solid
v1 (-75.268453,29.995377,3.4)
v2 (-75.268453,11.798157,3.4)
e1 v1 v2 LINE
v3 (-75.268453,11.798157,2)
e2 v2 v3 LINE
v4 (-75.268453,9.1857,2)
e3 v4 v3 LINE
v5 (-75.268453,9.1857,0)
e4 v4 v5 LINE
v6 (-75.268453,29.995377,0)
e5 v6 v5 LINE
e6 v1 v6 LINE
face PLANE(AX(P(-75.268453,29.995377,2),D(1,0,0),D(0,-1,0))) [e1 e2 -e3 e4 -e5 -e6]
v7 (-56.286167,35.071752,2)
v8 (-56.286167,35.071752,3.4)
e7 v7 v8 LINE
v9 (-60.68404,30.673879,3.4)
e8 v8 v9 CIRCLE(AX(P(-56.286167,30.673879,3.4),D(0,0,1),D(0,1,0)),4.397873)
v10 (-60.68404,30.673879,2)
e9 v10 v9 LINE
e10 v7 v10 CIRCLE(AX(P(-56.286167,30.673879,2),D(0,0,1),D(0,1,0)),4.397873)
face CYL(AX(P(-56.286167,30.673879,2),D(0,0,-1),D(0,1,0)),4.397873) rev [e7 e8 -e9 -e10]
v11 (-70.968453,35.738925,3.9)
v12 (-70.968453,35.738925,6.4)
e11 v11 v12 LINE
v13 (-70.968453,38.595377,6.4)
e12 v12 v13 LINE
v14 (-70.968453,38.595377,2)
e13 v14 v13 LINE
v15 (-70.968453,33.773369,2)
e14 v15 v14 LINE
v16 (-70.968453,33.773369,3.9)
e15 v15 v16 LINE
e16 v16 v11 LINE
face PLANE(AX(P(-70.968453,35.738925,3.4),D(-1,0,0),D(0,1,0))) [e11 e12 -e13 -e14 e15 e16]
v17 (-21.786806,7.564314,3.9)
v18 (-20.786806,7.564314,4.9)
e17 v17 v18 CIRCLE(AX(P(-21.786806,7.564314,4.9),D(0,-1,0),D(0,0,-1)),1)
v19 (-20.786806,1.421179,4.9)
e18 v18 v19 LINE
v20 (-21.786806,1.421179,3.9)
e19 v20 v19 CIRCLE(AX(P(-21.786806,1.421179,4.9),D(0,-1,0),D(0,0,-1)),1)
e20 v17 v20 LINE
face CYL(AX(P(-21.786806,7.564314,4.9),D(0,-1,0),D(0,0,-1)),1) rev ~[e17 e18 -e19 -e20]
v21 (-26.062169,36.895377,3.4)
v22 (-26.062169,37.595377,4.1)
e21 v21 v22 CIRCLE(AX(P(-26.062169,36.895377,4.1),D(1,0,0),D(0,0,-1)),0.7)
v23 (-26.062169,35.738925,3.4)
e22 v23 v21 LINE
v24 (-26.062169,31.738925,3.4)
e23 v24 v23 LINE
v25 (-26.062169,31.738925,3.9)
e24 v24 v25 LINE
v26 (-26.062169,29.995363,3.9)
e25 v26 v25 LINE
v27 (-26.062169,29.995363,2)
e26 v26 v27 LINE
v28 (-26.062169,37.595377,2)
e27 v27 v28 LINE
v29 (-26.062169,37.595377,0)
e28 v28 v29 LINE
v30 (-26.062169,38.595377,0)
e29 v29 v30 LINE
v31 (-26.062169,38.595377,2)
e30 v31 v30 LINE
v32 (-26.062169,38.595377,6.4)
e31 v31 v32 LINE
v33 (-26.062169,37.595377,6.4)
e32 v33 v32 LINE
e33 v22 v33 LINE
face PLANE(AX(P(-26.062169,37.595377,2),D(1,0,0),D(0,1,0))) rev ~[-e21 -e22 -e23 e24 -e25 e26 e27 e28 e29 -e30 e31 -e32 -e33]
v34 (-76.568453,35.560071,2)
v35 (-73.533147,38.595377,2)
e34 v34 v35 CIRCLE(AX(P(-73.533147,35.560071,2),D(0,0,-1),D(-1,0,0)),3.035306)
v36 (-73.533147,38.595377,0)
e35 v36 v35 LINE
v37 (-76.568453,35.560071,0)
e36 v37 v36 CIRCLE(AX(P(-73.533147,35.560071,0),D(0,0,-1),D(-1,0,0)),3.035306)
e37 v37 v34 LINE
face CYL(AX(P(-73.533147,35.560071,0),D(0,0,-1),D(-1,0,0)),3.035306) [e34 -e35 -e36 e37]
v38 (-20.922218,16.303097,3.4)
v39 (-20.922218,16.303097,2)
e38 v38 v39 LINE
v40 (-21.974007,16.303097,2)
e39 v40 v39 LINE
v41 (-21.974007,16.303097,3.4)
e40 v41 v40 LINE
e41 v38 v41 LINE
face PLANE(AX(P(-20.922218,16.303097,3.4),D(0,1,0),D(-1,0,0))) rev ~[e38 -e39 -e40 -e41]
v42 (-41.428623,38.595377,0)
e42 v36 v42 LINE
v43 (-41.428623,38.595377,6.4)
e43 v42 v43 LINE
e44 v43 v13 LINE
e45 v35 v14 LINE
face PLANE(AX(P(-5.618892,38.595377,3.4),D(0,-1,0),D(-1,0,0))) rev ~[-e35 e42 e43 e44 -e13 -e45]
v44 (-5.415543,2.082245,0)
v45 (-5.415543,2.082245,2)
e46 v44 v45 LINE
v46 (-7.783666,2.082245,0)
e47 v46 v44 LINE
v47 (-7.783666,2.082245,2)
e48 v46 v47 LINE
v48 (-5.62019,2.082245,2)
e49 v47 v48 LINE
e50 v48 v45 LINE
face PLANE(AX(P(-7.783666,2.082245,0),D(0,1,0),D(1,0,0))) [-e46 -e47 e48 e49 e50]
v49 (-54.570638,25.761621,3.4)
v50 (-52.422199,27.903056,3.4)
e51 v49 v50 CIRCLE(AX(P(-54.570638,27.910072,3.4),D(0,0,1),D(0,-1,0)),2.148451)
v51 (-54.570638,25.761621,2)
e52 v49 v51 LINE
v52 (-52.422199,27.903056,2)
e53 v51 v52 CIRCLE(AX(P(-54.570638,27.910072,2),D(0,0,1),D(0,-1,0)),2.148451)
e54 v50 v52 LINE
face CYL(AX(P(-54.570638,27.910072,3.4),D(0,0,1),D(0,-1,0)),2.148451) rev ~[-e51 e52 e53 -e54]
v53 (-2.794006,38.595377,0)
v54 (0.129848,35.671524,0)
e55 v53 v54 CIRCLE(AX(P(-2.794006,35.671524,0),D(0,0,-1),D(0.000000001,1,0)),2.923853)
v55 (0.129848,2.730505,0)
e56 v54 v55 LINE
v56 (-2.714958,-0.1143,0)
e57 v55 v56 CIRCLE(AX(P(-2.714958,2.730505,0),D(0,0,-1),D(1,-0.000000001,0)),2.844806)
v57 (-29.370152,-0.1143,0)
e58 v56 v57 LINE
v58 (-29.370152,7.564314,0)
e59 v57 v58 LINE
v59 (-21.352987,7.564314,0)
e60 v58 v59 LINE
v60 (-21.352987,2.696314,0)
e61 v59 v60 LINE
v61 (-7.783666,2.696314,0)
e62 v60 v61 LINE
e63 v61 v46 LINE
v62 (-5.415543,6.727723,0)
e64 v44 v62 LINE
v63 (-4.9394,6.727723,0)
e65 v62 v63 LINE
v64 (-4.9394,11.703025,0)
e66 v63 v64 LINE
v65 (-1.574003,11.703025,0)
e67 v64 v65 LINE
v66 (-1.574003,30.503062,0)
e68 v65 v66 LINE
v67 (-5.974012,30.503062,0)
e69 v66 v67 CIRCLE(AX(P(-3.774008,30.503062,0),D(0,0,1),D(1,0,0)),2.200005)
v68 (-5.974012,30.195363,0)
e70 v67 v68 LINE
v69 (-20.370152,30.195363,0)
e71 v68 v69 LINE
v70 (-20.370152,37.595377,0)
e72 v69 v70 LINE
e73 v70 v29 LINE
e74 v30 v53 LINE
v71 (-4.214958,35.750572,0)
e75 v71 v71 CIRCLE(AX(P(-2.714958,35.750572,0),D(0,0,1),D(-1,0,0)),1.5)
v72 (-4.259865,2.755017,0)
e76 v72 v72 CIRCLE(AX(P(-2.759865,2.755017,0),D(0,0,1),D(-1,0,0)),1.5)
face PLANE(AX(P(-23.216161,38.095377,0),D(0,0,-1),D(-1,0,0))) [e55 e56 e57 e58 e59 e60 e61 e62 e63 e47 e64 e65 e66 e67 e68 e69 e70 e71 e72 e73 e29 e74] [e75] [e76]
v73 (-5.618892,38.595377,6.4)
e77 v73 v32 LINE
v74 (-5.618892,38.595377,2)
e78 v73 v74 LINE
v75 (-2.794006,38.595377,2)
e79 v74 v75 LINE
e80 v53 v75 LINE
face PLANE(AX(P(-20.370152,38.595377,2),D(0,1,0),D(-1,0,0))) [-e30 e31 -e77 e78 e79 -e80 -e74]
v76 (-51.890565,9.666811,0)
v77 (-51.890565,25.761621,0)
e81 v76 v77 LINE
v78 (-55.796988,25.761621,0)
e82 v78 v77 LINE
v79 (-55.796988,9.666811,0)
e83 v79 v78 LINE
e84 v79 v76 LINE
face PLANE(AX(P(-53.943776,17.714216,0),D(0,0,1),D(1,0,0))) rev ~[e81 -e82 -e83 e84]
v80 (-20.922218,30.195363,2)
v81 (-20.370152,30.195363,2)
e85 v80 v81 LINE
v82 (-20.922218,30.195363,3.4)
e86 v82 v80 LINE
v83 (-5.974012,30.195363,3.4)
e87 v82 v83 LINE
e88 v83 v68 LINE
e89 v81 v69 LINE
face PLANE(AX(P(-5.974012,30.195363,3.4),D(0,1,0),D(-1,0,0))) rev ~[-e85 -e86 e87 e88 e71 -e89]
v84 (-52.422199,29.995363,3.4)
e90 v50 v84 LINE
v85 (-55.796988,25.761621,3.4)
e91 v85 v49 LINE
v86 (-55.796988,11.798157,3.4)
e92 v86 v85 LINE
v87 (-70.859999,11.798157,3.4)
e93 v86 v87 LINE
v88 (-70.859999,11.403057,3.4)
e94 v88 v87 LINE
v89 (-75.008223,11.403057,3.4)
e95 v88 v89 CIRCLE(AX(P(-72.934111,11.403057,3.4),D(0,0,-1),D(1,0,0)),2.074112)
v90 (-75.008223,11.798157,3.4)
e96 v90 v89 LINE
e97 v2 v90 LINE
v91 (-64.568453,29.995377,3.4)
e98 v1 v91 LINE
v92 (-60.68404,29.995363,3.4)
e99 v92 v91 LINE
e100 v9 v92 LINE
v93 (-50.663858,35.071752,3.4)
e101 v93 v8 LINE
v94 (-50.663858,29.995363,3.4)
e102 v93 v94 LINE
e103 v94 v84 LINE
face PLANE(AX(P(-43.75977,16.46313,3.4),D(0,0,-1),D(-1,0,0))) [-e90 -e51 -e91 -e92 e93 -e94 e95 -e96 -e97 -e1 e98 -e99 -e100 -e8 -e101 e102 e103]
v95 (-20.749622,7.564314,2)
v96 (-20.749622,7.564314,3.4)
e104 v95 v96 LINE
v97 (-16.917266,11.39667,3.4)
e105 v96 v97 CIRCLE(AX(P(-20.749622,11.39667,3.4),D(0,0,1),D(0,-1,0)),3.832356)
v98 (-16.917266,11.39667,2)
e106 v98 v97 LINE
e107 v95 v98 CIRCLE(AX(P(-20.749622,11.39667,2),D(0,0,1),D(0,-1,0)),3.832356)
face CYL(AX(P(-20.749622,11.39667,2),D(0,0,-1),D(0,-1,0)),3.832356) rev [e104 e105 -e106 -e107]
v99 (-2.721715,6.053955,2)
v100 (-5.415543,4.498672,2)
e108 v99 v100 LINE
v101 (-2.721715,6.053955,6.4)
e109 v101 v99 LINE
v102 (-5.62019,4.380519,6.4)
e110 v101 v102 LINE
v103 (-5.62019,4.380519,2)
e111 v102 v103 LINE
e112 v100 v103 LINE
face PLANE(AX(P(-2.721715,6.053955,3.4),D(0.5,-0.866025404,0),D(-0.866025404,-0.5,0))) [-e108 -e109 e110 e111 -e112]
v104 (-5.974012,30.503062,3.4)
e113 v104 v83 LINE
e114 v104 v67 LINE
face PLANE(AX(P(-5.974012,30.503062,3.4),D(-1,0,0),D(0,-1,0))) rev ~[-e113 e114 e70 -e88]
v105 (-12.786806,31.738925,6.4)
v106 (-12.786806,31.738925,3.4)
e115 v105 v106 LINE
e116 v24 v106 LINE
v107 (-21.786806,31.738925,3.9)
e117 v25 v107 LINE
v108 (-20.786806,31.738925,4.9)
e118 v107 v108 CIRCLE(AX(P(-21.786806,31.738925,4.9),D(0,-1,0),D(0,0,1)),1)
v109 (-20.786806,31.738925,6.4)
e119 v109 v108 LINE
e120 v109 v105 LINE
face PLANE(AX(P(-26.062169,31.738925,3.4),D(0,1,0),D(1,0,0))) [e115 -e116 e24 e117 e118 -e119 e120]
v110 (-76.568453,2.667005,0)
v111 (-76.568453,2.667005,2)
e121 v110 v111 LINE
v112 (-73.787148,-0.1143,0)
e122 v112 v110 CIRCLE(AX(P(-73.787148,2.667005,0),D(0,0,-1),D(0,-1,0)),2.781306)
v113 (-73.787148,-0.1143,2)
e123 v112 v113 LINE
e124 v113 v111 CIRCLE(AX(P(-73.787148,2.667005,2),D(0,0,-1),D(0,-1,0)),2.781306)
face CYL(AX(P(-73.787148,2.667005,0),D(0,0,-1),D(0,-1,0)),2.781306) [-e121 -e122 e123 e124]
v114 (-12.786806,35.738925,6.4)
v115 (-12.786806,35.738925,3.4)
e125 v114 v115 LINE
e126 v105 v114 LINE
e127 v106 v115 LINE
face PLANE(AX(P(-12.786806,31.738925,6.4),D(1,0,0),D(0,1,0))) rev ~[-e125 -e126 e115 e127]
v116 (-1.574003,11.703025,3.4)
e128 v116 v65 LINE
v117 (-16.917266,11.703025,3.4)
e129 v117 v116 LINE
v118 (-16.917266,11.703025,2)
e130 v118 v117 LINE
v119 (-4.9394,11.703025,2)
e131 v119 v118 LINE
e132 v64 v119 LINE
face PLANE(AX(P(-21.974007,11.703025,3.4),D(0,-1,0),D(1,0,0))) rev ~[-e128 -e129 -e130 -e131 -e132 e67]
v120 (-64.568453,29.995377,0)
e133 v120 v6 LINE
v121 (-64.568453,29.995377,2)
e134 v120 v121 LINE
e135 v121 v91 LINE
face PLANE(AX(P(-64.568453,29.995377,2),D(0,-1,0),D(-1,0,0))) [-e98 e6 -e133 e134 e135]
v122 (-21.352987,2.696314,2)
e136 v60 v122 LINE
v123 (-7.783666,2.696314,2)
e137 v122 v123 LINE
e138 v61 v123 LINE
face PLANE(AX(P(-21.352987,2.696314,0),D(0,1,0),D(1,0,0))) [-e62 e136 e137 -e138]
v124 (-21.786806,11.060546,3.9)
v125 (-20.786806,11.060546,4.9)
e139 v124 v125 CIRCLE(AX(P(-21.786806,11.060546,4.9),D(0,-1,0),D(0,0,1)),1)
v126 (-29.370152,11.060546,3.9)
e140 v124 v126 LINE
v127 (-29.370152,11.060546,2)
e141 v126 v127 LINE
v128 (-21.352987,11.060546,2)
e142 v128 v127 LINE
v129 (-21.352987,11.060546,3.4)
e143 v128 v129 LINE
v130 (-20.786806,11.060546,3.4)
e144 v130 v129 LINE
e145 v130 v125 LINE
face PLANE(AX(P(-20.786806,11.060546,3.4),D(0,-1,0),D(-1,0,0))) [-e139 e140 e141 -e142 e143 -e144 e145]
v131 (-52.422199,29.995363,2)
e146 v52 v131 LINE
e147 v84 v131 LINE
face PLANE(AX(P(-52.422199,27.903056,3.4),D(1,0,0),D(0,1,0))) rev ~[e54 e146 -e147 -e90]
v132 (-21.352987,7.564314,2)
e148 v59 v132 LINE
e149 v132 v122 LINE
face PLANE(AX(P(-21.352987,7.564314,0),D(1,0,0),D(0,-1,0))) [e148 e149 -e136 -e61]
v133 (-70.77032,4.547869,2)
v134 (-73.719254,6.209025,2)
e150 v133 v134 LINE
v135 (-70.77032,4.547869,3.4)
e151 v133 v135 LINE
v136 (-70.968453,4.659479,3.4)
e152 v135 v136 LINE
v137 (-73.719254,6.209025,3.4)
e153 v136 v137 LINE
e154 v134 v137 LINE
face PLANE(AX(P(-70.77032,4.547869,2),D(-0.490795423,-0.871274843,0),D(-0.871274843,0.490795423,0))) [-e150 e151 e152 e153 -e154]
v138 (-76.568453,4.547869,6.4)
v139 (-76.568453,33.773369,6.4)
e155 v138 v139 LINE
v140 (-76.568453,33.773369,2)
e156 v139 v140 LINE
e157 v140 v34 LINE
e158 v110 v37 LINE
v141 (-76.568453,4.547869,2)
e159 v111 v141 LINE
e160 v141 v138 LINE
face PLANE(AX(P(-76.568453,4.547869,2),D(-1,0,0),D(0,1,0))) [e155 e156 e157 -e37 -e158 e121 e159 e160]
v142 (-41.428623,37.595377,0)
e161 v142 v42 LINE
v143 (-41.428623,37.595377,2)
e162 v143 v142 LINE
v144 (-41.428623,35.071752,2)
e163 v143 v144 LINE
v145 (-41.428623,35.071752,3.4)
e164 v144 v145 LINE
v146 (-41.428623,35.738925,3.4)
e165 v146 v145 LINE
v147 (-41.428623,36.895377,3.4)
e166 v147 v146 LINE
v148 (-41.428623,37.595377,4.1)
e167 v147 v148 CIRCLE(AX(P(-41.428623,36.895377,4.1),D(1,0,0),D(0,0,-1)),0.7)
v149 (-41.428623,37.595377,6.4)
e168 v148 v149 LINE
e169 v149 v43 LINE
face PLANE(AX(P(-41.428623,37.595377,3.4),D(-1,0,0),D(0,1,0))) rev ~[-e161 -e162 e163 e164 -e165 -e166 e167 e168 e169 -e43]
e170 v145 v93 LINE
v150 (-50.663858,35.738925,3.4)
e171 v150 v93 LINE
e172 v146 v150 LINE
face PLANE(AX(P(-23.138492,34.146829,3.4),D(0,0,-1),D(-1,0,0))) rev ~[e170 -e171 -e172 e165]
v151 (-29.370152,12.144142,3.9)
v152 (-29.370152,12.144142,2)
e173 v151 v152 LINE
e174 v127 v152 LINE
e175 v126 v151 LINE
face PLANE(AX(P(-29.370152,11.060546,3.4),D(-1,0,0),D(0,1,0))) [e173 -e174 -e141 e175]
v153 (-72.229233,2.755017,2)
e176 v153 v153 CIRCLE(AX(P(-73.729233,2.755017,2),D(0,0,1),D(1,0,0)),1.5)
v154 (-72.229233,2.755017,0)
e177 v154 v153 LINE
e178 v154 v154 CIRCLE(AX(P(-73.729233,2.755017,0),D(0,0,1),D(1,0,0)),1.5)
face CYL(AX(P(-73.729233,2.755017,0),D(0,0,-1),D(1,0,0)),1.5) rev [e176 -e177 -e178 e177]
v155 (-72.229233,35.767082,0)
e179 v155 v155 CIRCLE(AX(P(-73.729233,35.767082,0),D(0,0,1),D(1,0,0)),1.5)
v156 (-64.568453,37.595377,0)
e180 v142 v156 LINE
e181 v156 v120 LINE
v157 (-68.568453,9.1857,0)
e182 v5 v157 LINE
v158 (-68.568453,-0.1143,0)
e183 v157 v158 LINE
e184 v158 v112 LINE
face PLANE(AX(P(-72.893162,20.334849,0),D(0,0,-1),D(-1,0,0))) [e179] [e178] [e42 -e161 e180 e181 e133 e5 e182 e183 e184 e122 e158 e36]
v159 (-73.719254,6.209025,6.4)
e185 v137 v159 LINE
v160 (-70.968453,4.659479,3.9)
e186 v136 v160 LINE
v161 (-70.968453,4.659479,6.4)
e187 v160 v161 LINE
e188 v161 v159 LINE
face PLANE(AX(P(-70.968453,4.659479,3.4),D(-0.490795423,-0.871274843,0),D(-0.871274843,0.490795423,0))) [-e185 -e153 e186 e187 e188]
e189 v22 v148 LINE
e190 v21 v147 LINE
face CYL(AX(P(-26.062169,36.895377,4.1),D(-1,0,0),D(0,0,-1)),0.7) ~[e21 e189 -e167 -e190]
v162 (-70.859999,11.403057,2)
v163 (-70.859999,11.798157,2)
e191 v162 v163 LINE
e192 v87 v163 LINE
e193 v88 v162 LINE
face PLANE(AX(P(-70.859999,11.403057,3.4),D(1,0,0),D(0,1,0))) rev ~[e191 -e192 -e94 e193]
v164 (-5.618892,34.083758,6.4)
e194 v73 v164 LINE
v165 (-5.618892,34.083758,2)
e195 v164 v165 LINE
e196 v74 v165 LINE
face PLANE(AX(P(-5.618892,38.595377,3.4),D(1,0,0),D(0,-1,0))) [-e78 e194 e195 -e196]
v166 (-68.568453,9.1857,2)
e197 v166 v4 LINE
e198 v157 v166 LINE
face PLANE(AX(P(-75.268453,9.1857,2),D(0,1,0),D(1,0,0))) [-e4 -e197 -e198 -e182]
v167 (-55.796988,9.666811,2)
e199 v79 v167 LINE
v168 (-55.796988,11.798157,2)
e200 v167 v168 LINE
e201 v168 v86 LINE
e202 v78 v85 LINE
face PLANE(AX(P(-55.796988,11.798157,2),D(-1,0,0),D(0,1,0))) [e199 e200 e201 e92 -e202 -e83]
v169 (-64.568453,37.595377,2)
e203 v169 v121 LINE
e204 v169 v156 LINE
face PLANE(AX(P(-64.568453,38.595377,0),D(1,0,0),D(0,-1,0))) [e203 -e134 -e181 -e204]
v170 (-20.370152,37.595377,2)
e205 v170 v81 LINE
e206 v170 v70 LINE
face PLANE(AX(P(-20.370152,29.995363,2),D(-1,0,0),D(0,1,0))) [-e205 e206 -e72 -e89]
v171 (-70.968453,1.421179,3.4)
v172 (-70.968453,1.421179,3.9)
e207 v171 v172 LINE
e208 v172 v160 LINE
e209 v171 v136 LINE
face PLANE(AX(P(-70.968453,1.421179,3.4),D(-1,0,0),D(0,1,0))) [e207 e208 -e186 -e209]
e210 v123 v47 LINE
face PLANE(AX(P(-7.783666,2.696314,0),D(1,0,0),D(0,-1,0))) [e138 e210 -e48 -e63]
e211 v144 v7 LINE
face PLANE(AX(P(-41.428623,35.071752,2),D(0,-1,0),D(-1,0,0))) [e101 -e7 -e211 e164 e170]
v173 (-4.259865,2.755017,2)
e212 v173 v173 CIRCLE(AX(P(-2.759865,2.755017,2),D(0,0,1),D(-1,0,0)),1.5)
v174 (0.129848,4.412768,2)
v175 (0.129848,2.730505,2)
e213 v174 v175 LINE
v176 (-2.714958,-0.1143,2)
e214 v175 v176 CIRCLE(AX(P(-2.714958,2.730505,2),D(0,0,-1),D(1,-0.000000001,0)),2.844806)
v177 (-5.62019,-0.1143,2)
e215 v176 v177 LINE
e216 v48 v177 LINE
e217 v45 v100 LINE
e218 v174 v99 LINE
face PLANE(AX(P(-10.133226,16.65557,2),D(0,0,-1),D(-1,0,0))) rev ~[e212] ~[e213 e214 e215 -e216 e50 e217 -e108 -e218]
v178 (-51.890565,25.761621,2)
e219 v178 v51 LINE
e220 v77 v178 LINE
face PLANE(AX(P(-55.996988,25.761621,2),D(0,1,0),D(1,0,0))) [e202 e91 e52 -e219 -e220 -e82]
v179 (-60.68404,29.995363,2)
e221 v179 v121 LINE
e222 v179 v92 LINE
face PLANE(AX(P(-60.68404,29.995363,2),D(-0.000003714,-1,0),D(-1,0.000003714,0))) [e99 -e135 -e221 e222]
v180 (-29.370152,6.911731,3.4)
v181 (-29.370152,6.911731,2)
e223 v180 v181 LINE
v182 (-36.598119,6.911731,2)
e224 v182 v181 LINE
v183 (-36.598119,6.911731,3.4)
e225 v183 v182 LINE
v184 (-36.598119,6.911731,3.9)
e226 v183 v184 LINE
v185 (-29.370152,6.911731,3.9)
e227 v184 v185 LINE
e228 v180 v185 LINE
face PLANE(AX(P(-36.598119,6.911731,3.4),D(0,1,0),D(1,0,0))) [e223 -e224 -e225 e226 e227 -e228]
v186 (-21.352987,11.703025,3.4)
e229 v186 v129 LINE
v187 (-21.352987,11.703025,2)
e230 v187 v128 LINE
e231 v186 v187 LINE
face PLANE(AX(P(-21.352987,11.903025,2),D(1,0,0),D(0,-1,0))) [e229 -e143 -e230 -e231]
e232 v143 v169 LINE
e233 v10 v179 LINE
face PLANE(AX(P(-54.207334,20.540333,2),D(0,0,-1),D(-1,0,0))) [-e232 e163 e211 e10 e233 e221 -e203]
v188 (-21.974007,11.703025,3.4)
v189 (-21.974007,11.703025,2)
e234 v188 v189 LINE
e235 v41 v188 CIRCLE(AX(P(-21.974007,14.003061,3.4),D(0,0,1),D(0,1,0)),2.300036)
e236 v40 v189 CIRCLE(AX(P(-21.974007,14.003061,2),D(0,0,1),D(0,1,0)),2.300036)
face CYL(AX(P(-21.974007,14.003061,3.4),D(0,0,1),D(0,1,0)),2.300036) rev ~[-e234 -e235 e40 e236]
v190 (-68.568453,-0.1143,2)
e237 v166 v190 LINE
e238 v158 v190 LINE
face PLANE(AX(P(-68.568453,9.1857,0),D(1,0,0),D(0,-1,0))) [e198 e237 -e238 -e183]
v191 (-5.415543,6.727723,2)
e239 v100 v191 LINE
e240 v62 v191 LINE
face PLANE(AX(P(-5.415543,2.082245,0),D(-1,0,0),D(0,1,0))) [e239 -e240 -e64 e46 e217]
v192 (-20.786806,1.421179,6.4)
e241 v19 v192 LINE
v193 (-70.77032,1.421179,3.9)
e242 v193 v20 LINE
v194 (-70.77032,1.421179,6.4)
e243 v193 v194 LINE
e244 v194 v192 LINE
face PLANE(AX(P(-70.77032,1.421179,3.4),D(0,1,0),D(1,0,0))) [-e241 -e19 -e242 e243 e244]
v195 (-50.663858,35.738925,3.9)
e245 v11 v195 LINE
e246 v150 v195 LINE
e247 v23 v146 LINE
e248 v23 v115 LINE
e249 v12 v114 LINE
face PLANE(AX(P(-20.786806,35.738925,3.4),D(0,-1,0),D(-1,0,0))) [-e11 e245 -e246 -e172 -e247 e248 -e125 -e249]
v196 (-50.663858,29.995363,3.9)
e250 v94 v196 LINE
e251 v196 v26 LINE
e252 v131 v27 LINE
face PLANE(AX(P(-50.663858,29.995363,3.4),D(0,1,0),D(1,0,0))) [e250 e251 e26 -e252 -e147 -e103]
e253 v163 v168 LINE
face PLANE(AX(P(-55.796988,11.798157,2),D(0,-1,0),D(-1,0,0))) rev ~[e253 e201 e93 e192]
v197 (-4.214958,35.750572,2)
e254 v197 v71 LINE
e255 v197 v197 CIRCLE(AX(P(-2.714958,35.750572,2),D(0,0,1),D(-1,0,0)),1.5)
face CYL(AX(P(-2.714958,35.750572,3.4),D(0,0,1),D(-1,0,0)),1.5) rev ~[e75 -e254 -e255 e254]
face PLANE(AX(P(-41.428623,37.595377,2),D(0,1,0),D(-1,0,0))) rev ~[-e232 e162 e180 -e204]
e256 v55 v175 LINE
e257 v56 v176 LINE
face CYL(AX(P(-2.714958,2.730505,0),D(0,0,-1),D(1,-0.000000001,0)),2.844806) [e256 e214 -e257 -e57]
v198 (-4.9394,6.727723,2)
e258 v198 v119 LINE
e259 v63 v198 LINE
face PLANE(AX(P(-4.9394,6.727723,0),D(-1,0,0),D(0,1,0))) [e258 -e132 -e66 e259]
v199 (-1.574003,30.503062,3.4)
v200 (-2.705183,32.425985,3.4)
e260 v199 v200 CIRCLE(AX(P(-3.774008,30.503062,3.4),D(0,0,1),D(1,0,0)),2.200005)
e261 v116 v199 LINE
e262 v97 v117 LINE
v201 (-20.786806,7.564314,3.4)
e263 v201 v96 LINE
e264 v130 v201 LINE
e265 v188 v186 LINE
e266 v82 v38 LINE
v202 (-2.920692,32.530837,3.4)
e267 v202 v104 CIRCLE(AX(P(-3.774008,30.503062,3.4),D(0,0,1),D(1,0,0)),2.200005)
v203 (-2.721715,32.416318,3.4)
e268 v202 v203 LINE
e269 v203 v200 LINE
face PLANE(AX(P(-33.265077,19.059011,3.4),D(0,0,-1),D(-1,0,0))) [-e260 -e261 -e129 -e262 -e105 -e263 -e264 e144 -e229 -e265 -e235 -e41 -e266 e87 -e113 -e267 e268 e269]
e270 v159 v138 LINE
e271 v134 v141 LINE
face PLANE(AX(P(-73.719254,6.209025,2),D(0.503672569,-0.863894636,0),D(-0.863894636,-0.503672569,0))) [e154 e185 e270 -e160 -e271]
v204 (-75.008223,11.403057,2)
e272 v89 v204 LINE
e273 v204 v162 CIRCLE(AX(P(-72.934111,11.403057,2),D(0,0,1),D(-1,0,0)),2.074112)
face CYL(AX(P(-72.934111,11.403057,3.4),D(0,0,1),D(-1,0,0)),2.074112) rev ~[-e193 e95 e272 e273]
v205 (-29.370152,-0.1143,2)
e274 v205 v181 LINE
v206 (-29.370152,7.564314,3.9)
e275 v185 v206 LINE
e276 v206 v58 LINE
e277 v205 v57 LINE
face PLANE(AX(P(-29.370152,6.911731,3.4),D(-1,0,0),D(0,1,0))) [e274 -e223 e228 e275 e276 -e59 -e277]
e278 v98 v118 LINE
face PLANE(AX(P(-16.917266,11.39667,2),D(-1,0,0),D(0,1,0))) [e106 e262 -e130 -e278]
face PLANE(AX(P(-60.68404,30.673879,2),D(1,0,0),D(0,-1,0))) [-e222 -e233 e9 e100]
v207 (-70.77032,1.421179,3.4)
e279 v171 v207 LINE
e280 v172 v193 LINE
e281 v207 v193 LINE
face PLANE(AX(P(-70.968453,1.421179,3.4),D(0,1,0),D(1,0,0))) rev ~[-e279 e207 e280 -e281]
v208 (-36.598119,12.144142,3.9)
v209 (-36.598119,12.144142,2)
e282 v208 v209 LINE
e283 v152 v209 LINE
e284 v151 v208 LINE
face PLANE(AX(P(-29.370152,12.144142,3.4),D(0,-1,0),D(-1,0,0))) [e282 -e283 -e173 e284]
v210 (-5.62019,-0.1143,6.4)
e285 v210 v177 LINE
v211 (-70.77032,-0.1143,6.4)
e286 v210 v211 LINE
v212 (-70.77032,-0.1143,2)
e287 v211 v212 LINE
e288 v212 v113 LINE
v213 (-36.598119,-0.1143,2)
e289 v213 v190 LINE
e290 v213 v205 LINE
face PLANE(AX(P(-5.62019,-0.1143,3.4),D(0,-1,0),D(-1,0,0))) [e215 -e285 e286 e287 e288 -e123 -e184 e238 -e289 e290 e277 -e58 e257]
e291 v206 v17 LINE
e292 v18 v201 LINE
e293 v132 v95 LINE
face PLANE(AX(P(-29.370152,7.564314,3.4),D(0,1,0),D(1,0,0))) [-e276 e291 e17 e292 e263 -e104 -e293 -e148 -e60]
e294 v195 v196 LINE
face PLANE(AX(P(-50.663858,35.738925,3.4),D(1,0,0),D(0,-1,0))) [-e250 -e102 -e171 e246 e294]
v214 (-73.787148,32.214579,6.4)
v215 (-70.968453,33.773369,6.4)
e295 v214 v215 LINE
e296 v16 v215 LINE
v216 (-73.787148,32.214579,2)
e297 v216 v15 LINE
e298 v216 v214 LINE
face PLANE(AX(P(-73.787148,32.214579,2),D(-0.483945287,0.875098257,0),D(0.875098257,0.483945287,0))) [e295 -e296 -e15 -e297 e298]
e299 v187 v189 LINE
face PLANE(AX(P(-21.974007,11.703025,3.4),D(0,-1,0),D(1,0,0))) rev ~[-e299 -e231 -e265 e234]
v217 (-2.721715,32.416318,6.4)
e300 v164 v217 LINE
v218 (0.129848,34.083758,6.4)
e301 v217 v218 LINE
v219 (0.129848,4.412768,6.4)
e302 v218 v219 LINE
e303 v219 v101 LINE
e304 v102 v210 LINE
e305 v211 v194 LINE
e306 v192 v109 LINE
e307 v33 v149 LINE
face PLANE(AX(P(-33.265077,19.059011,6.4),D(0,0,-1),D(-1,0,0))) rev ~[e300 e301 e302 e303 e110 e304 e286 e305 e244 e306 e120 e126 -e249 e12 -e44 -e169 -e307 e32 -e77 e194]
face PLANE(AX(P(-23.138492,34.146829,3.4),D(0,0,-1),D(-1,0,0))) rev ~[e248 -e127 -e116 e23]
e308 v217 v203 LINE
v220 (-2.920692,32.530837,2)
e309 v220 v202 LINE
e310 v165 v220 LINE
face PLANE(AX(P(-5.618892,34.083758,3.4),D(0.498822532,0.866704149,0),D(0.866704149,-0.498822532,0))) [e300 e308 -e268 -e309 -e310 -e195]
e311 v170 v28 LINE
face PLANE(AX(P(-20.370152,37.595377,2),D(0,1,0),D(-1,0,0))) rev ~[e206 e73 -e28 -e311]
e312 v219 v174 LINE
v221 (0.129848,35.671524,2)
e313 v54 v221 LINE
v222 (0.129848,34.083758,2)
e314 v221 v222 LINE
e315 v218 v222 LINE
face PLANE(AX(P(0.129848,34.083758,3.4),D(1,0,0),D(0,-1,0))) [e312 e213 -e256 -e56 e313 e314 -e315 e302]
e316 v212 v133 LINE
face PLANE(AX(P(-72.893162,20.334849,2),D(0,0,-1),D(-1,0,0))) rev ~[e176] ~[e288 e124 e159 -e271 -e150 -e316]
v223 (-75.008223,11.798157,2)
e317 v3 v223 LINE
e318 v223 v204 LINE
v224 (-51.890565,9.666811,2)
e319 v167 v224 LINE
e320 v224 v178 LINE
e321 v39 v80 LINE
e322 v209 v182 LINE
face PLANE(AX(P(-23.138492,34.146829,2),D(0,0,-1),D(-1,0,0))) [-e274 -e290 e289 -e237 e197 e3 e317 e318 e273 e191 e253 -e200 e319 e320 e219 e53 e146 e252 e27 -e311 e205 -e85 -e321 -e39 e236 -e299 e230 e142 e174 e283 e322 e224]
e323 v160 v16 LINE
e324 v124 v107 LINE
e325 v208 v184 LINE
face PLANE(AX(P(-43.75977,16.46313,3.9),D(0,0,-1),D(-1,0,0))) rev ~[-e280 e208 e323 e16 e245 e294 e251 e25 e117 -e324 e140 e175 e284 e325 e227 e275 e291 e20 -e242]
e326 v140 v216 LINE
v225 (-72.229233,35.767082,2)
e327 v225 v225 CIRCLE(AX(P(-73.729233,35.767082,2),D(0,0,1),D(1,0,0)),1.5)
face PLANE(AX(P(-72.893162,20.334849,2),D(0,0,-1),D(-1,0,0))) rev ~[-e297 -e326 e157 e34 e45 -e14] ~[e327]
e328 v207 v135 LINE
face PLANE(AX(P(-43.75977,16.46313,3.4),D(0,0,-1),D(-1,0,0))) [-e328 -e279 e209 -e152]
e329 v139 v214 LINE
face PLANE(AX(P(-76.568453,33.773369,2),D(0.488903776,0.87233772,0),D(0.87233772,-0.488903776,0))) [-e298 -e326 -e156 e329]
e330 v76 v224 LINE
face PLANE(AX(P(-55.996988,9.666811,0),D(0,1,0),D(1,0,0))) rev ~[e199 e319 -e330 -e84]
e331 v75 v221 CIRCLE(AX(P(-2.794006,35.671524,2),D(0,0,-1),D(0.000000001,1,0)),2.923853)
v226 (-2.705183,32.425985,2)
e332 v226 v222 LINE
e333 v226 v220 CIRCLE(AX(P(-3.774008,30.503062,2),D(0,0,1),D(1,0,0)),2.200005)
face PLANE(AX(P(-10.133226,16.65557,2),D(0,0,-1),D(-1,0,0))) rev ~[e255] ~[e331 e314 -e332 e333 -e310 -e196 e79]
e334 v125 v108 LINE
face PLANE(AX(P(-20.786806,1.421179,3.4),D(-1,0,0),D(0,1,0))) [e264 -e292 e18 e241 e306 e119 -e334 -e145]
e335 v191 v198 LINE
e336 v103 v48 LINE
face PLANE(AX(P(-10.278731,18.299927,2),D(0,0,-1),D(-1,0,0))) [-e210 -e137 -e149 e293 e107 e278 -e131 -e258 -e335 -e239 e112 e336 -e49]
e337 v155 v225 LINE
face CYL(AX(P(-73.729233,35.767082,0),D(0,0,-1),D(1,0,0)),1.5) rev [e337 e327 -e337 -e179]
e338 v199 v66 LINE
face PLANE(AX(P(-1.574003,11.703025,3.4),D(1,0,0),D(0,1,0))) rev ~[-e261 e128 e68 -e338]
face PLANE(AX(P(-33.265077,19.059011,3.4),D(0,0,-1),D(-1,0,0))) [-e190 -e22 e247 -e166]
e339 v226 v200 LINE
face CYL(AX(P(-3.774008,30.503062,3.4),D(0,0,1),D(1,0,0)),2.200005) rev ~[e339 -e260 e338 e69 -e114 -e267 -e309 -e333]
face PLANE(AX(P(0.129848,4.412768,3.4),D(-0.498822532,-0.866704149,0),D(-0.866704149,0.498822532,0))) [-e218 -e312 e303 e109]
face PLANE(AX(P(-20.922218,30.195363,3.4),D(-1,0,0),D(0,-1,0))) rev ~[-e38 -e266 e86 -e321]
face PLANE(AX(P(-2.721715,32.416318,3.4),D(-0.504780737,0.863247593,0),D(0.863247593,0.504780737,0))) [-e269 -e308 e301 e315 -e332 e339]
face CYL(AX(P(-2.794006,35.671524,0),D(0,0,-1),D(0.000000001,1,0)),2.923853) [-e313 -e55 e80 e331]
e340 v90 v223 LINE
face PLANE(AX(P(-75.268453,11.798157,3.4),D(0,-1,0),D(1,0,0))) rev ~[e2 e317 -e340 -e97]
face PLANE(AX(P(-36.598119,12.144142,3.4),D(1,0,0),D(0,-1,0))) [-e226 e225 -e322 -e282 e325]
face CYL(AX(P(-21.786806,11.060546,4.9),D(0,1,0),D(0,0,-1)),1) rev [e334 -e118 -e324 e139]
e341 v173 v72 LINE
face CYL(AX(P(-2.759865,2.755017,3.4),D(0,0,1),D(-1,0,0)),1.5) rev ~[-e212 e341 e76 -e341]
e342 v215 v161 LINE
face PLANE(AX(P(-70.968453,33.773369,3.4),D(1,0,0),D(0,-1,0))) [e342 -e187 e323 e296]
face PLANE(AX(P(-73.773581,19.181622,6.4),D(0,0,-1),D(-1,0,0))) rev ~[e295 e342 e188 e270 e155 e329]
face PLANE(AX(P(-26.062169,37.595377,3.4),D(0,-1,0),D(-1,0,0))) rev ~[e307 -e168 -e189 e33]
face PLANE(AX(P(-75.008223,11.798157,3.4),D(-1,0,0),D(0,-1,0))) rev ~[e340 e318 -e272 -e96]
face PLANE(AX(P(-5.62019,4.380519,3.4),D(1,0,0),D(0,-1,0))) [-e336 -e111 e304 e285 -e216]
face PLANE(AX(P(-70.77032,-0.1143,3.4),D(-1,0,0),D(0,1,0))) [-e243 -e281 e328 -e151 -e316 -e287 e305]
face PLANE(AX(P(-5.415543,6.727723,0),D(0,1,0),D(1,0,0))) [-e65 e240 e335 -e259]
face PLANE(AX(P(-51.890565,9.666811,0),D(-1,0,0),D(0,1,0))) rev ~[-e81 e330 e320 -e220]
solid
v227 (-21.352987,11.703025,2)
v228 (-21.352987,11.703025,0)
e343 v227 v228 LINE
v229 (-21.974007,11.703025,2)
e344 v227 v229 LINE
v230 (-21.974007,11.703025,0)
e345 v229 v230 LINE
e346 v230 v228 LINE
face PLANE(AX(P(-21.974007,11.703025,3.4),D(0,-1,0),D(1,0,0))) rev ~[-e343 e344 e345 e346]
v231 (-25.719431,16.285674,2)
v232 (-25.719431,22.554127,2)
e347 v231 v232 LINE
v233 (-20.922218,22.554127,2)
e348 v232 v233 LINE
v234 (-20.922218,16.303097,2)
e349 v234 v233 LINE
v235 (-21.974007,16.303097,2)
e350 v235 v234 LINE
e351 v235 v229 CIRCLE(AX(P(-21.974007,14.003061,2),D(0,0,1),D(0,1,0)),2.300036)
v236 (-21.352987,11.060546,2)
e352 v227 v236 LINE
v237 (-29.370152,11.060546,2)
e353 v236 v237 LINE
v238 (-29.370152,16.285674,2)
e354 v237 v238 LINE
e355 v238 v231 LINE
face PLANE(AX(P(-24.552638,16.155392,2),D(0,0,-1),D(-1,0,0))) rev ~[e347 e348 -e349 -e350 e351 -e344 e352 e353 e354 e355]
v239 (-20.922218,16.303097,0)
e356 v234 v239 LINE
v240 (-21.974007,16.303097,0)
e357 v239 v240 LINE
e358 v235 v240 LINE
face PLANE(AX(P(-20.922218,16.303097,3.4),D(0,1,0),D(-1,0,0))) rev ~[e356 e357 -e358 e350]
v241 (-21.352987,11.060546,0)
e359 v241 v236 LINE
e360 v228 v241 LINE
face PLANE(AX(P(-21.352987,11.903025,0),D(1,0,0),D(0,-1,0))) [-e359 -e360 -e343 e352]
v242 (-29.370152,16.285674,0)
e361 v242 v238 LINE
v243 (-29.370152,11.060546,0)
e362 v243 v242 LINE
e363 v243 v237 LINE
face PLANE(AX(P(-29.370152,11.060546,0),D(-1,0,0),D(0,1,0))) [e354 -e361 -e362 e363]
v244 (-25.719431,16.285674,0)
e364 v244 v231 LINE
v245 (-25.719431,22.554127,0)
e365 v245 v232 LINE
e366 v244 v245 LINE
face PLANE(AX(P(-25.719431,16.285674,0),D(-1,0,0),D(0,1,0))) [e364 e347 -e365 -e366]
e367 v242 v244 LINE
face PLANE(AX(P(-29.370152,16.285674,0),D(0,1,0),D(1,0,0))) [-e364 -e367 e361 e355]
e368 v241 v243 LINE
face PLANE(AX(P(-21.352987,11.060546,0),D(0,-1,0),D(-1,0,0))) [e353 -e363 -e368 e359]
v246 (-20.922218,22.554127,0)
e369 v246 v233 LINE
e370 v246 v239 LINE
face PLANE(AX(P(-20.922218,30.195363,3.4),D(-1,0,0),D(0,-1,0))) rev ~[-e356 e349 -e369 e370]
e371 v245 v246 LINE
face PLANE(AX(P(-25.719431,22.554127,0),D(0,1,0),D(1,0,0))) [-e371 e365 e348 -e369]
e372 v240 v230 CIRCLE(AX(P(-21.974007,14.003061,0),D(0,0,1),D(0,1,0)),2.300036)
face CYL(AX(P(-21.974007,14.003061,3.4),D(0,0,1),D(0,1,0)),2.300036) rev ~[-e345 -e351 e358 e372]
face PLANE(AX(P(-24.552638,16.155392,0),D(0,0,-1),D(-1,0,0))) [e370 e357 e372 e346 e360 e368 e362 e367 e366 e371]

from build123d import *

# Parameters (mm, degrees)
SKETCH_1_R          = 1.5
EXTRUDE_1_DEPTH     = 2
EXTRUDE_1_2_DEPTH   = 2
EXTRUDE_1_3_DEPTH   = 2
SKETCH_1_W          = 4.106423221
SKETCH_1_H          = 16.094809644
EXTRUDE_1_4_DEPTH   = 2
EXTRUDE_2_DEPTH     = 1.4
SKETCH_3_W          = 7.227966662
SKETCH_3_H          = 7.026031467
EXTRUDE_3_DEPTH     = 1.4
SKETCH_4_R          = 1.5
CUT_EXTRUDE_1_DEPTH = 4
EXTRUDE_4_DEPTH     = 3
SKETCH_6_W          = 8
SKETCH_6_H          = 4
CUT_EXTRUDE_2_DEPTH = 3
SKETCH_7_W          = 15.36645454
SKETCH_7_H          = 1
CUT_EXTRUDE_3_DEPTH = 10
FILLET_1_R          = 0.7
CUT_EXTRUDE_START   = -3.4
CUT_EXTRUDE_4_DEPTH = 3.4
SKETCH_9_W          = 0.2
SKETCH_9_H          = 16.094809644
CUT_EXTRUDE_5_DEPTH = 2
SKETCH_10_W         = 0.2
SKETCH_10_H         = 13.963463774
CUT_EXTRUDE_6_DEPTH = 1.4
EXTRUDE_5_DEPTH     = 0.5
FILLET_2_R          = 1
SKETCH_12_W         = 5.692016437
SKETCH_12_H         = 1
SKETCH_12_W_2       = 23.13982976
EXTRUDE_6_DEPTH     = 2


with BuildPart() as part:
    # 草图1 → 凸台-拉伸1 (new body)
    with BuildSketch(Plane.XY):
        with BuildLine():
            Line((-73.533147066, 38.595377191), (-64.568453137, 38.595377191))
            Line((-64.568453137, 38.595377191), (-64.568453137, 29.995377191))
            Line((-64.568453137, 29.995377191), (-75.268453137, 29.995377191))
            Line((-75.268453137, 29.995377191), (-75.268453137, 9.185699771))
            Line((-75.268453137, 9.185699771), (-68.568453137, 9.185699771))
            Line((-68.568453137, 9.185699771), (-68.568453137, -0.114300229))
            Line((-68.568453137, -0.114300229), (-73.787147574, -0.114300229))
            ThreePointArc((-73.787147574, -0.114300229), (-75.753827598, 0.70032531), (-76.568453137, 2.667005334))
            Line((-76.568453137, 2.667005334), (-76.568453137, 35.56007112))
            ThreePointArc((-76.568453137, 35.56007112), (-75.679432572, 37.706356626), (-73.533147066, 38.595377191))
        make_face()
        with Locations((-73.729232918, 35.767081534)):
            Circle(SKETCH_1_R, mode=Mode.SUBTRACT)
        with Locations((-73.729232918, 2.75501651)):
            Circle(SKETCH_1_R, mode=Mode.SUBTRACT)
    extrude(amount=EXTRUDE_1_DEPTH)



with BuildPart() as body_2:
    # 草图1 → Extrude 1 2 (new body)
    with BuildSketch(Plane.XY):
        with BuildLine():
            Line((-20.3701524, 38.595377191), (-2.794005588, 38.595377191))
            ThreePointArc((-2.794005588, 38.595377191), (-0.726529172, 37.739000419), (0.1298476, 35.671524003))
            Line((0.1298476, 35.671524003), (0.1298476, 2.730505461))
            ThreePointArc((0.1298476, 2.730505461), (-0.703376696, 0.718924067), (-2.71495809, -0.114300229))
            Line((-2.71495809, -0.114300229), (-29.3701524, -0.114300229))
            Line((-29.3701524, -0.114300229), (-29.3701524, 7.564313638))
            Line((-29.3701524, 7.564313638), (-21.352987273, 7.564313638))
            Line((-21.352987273, 7.564313638), (-21.352987273, 2.696314027))
            Line((-21.352987273, 2.696314027), (-7.783666391, 2.696314027))
            Line((-7.783666391, 2.696314027), (-7.783666391, 2.08224545))
            Line((-7.783666391, 2.08224545), (-5.4155429, 2.08224545))
            Line((-5.4155429, 2.08224545), (-5.4155429, 6.727722904))
            Line((-5.4155429, 6.727722904), (-4.939400428, 6.727722904))
            Line((-4.939400428, 6.727722904), (-4.939400428, 11.903025146))
            Line((-4.939400428, 11.903025146), (-1.774003048, 11.903025146))
            Line((-1.774003048, 11.903025146), (-1.774003048, 30.503061971))
            ThreePointArc((-1.774003048, 30.503061971), (-3.774007689, 32.503066612), (-5.774012331, 30.503061971))
            Line((-5.774012331, 30.503061971), (-5.774012331, 29.995362765))
            Line((-5.774012331, 29.995362765), (-20.3701524, 29.995362765))
            Line((-20.3701524, 29.995362765), (-20.3701524, 38.595377191))
        make_face()
    extrude(amount=EXTRUDE_1_2_DEPTH)

    # 草图2 → 凸台-拉伸2 (add)
    with BuildSketch(Plane.XY.offset(2)):
        with BuildLine():
            Line((-20.3701524, 38.595377191), (-5.61889189, 38.595377191))
            Line((-5.61889189, 38.595377191), (-5.61889189, 34.083758146))
            Line((-5.61889189, 34.083758146), (-2.721714642, 32.416318003))
            Line((-2.721714642, 32.416318003), (0.1298476, 34.083758146))
            Line((0.1298476, 34.083758146), (0.1298476, 4.412767613))
            Line((0.1298476, 4.412767613), (-2.721714642, 6.053954515))
            Line((-2.721714642, 6.053954515), (-5.620189722, 4.380519147))
            Line((-5.620189722, 4.380519147), (-5.620189722, -0.114300229))
            Line((-5.620189722, -0.114300229), (-29.3701524, -0.114300229))
            Line((-29.3701524, -0.114300229), (-29.3701524, 7.564313638))
            Line((-29.3701524, 7.564313638), (-21.352987273, 7.564313638))
            Line((-21.352987273, 7.564313638), (-20.749621985, 7.564313638))
            ThreePointArc((-20.749621985, 7.564313638), (-18.039737166, 8.686784683), (-16.917266121, 11.396669503))
            Line((-16.917266121, 11.396669503), (-16.917266121, 11.903025146))
            Line((-16.917266121, 11.903025146), (-4.939400428, 11.903025146))
            Line((-4.939400428, 11.903025146), (-1.774003048, 11.903025146))
            Line((-1.774003048, 11.903025146), (-1.774003048, 30.503061971))
            ThreePointArc((-1.774003048, 30.503061971), (-3.774007689, 32.503066612), (-5.774012331, 30.503061971))
            Line((-5.774012331, 30.503061971), (-5.774012331, 29.995362765))
            Line((-5.774012331, 29.995362765), (-20.3701524, 29.995362765))
            Line((-20.3701524, 29.995362765), (-20.3701524, 38.595377191))
        make_face()
        with BuildLine():
            Line((-70.887589638, 38.595377191), (-41.428623377, 38.595377191))
            Line((-41.428623377, 38.595377191), (-41.428623377, 35.071751605))
            Line((-41.428623377, 35.071751605), (-56.286166586, 35.071751605))
            ThreePointArc((-56.286166586, 35.071751605), (-59.39593239, 33.783644433), (-60.684039561, 30.673878629))
            Line((-60.684039561, 30.673878629), (-60.684039561, 29.995362765))
            Line((-60.684039561, 29.995362765), (-64.568453137, 29.995377191))
            Line((-64.568453137, 29.995377191), (-75.268453137, 29.995377191))
            Line((-75.268453137, 29.995377191), (-75.268453137, 9.185699771))
            Line((-75.268453137, 9.185699771), (-68.568453137, 9.185699771))
            Line((-68.568453137, 9.185699771), (-68.568453137, 11.798156954))
            Line((-68.568453137, 11.798156954), (-55.996988093, 11.798156954))
            Line((-55.996988093, 11.798156954), (-55.996988093, 25.761620728))
            Line((-55.996988093, 25.761620728), (-51.890564872, 25.761620728))
            Line((-51.890564872, 25.761620728), (-51.890564872, 29.995362765))
            Line((-51.890564872, 29.995362765), (-21.162764526, 29.995362765))
            Line((-21.162764526, 29.995362765), (-20.622217716, 29.369045696))
            Line((-20.622217716, 29.369045696), (-20.622217716, 22.554127025))
            Line((-20.622217716, 22.554127025), (-20.622217716, 16.103096986))
            Line((-20.622217716, 16.103096986), (-21.974006869, 16.103096986))
            ThreePointArc((-21.974006869, 16.103096986), (-24.074042789, 14.003061066), (-21.974006869, 11.903025146))
            Line((-21.974006869, 11.903025146), (-21.352987273, 11.903025146))
            Line((-21.352987273, 11.903025146), (-21.352987273, 11.060546498))
            Line((-21.352987273, 11.060546498), (-29.3701524, 11.060546498))
            Line((-29.3701524, 11.060546498), (-29.3701524, 12.144142136))
            Line((-29.3701524, 12.144142136), (-36.598119062, 12.144142136))
            Line((-36.598119062, 12.144142136), (-36.598119062, -0.114300229))
            Line((-36.598119062, -0.114300229), (-70.770319773, -0.114300229))
            Line((-70.770319773, -0.114300229), (-70.770319773, 4.547869094))
            Line((-70.770319773, 4.547869094), (-73.7192537, 6.209024912))
            Line((-73.7192537, 6.209024912), (-76.568453137, 4.547869094))
            Line((-76.568453137, 4.547869094), (-76.568453137, 33.773368738))
            Line((-76.568453137, 33.773368738), (-73.787147574, 32.214579336))
            Line((-73.787147574, 32.214579336), (-70.968453137, 33.773368738))
            Line((-70.968453137, 33.773368738), (-70.968453137, 38.595377191))
            Line((-70.968453137, 38.595377191), (-70.887589638, 38.595377191))
        make_face()
    extrude(amount=EXTRUDE_2_DEPTH)


with BuildPart() as body_3:
    # 草图1 → Extrude 1 3 (new body)
    with BuildSketch(Plane.XY):
        with BuildLine():
            Line((-29.3701524, 16.285673783), (-25.719430689, 16.285673783))
            Line((-25.719430689, 16.285673783), (-25.719430689, 22.554127025))
            Line((-25.719430689, 22.554127025), (-20.622217716, 22.554127025))
            Line((-20.622217716, 22.554127025), (-20.622217716, 16.103096986))
            Line((-20.622217716, 16.103096986), (-21.974006869, 16.103096986))
            ThreePointArc((-21.974006869, 16.103096986), (-24.074042789, 14.003061066), (-21.974006869, 11.903025146))
            Line((-21.974006869, 11.903025146), (-21.352987273, 11.903025146))
            Line((-21.352987273, 11.903025146), (-21.352987273, 11.060546498))
            Line((-21.352987273, 11.060546498), (-29.3701524, 11.060546498))
            Line((-29.3701524, 11.060546498), (-29.3701524, 16.285673783))
        make_face()
    extrude(amount=EXTRUDE_1_3_DEPTH)


with BuildPart() as body_4:
    # 草图1 → Extrude 1 4 (new body)
    with BuildSketch(Plane.XY):
        with Locations((-53.943776483, 17.714215906)):
            Rectangle(SKETCH_1_W, SKETCH_1_H)
    extrude(amount=EXTRUDE_1_4_DEPTH)


with BuildPart() as extrude_2_piece_1:
    # of the separate pieces the step leaves, piece 1, a body of its own (extrude_2_pieces)
    add(body_2.part.solids().sort_by_distance((-41.428623377, 38.595377191, 2))[0])


with BuildPart() as extrude_2_piece_2:
    # of the separate pieces the step leaves, piece 2, a body of its own (extrude_2_pieces)
    add(body_2.part.solids().sort_by_distance((-5.774012331, 30.503061971, 0))[0])


with BuildPart() as part_1:
    add(part.part)

    add(body_4.part)  # 凸台-拉伸3 merges body 4

    add(extrude_2_piece_1.part)  # 凸台-拉伸3 merges 凸台-拉伸2 piece 1

    add(extrude_2_piece_2.part)  # 凸台-拉伸3 merges 凸台-拉伸2 piece 2
    # 草图3 → 凸台-拉伸3 (add)
    with BuildSketch(Plane.XY.offset(3.4)):
        Polygon((-20.3701524, 38.595377191), (-20.3701524, 29.995362765), (-20.622217716, 29.995362765), (-20.622217716, 29.369045696), (-21.162764526, 29.995362765), (-26.062168837, 29.995362765), (-26.062168837, 38.595377191), align=None)
        with Locations((-32.984135731, 3.398715505)):
            Rectangle(SKETCH_3_W, SKETCH_3_H)
        with BuildLine():
            Line((-72.936706259, 9.185699771), (-75.268453137, 9.185699771))
            Line((-75.268453137, 9.185699771), (-75.268453137, 11.40305698))
            Line((-75.268453137, 11.40305698), (-75.268453137, 11.798156954))
            Line((-75.268453137, 11.798156954), (-75.008222616, 11.798156954))
            Line((-75.008222616, 11.798156954), (-75.008222616, 11.40305698))
            ThreePointArc((-75.008222616, 11.40305698), (-72.934110955, 9.328945319), (-70.859999295, 11.40305698))
            Line((-70.859999295, 11.40305698), (-70.859999295, 11.798156954))
            Line((-70.859999295, 11.798156954), (-68.568453137, 11.798156954))
            Line((-68.568453137, 11.798156954), (-68.568453137, 9.185699771))
            Line((-68.568453137, 9.185699771), (-72.936706259, 9.185699771))
        make_face()
        with BuildLine():
            Line((-51.890564872, 27.903055626), (-51.890564872, 25.761620728))
            Line((-51.890564872, 25.761620728), (-54.570638132, 25.761620728))
            ThreePointArc((-54.570638132, 25.761620728), (-53.053936471, 26.388408915), (-52.422198631, 27.903055626))
            Line((-52.422198631, 27.903055626), (-52.422198631, 29.995362765))
            Line((-52.422198631, 29.995362765), (-51.890564872, 29.995362765))
            Line((-51.890564872, 29.995362765), (-51.890564872, 27.903055626))
        make_face()
    extrude(amount=-EXTRUDE_3_DEPTH)

    # 草图4 → 切除-拉伸1 (cut)
    with BuildSketch(Plane.XY.offset(3.4)):
        with Locations(Location((-2.71495809, 35.750571501, 0), (0, 0, 180))):
            Circle(SKETCH_4_R)
        with Locations(Location((-2.75986538, 2.75501651, 0), (0, 0, 180))):
            Circle(SKETCH_4_R)
    extrude(amount=-CUT_EXTRUDE_1_DEPTH, mode=Mode.SUBTRACT)

    # 草图5 → 凸台-拉伸4 (add)
    with BuildSketch(Plane.XY.offset(3.4)):
        Polygon((-26.062168837, 38.595377191), (-5.61889189, 38.595377191), (-5.61889189, 34.083758146), (-2.721714642, 32.416318003), (0.1298476, 34.083758146), (0.1298476, 4.412767613), (-2.721714642, 6.053954515), (-5.620189722, 4.380519147), (-5.620189722, -0.114300229), (-70.770319773, -0.114300229), (-70.770319773, 1.42117871), (-20.786805854, 1.42117871), (-20.786805854, 35.738925441), (-70.968453137, 35.738925441), (-70.968453137, 38.595377191), align=None)
        Polygon((-76.568453137, 33.773368738), (-73.787147574, 32.214579336), (-70.968453137, 33.773368738), (-70.968453137, 4.659479052), (-73.7192537, 6.209024912), (-76.568453137, 4.547869094), align=None)
    extrude(amount=EXTRUDE_4_DEPTH)

    # 草图6 → 切除-拉伸2 (cut)
    with BuildSketch(Plane.XY.offset(6.4)):
        with Locations((-16.786805854, 33.738925441)):
            Rectangle(SKETCH_6_W, SKETCH_6_H)
    extrude(amount=-CUT_EXTRUDE_2_DEPTH, mode=Mode.SUBTRACT)

    # 草图7 → 切除-拉伸3 (cut)
    with BuildSketch(Plane(origin=(0, 0, 3.4), x_dir=(-1, 0, 0), z_dir=(0, 0, -1))):
        with Locations((33.745396107, 38.095377191)):
            Rectangle(SKETCH_7_W, SKETCH_7_H)
    extrude(amount=-CUT_EXTRUDE_3_DEPTH, mode=Mode.SUBTRACT)

    # 圆角1
    fillet_1_edges = [part_1.edges().sort_by_distance(p)[0] for p in [
        (-33.745396107, 37.595377191, 3.4),
    ]]
    fillet(fillet_1_edges, radius=FILLET_1_R)


with BuildPart() as cut_extrude_4_tool:
    # 草图8 → 切除-拉伸4 (new body)
    with BuildSketch(Plane(origin=(0, 0, 0), x_dir=(-1, 0, 0), z_dir=(0, 0, -1)).offset(CUT_EXTRUDE_START)):
        with BuildLine():
            Line((5.974012331, 30.195362765), (20.922217716, 30.195362765))
            Line((20.922217716, 30.195362765), (20.922217716, 16.303096986))
            Line((20.922217716, 16.303096986), (21.974006869, 16.303096986))
            ThreePointArc((21.974006869, 16.303096986), (24.274042789, 14.003061066), (21.974006869, 11.703025146))
            Line((21.974006869, 11.703025146), (20.922217716, 11.703025146))
            Line((20.922217716, 11.703025146), (1.574003048, 11.703025146))
            Line((1.574003048, 11.703025146), (1.574003048, 30.295362765))
            Line((1.574003048, 30.295362765), (1.574003048, 30.503061971))
            ThreePointArc((1.574003048, 30.503061971), (3.774007689, 32.703066612), (5.974012331, 30.503061971))
            Line((5.974012331, 30.503061971), (5.974012331, 30.195362765))
        make_face()
    extrude(amount=CUT_EXTRUDE_4_DEPTH)


with BuildPart() as part_2:
    add(part_1.part)

    # 切除-拉伸4: cut by cut_extrude_4_tool
    add(cut_extrude_4_tool.part, mode=Mode.SUBTRACT)

    # 草图9 → 切除-拉伸5 (cut)
    with BuildSketch(Plane(origin=(0, 0, 0), x_dir=(-1, 0, 0), z_dir=(0, 0, -1))):
        with Locations((55.896988093, 17.714215906)):
            Rectangle(SKETCH_9_W, SKETCH_9_H)
    extrude(amount=-CUT_EXTRUDE_5_DEPTH, mode=Mode.SUBTRACT)

    # 草图10 → 切除-拉伸6 (cut)
    with BuildSketch(Plane(origin=(0, 0, 2), x_dir=(-1, 0, 0), z_dir=(0, 0, -1))):
        with Locations((55.896988093, 18.779888841)):
            Rectangle(SKETCH_10_W, SKETCH_10_H)
    extrude(amount=-CUT_EXTRUDE_6_DEPTH, mode=Mode.SUBTRACT)

    # 草图11 → 凸台-拉伸5 (add)
    with BuildSketch(Plane.XY.offset(3.4)):
        Polygon((-70.968453137, 35.738925441), (-50.663857909, 35.738925441), (-50.663857909, 29.995362765), (-26.062168837, 29.995362765), (-26.062168837, 31.738925441), (-20.786805854, 31.738925441), (-20.786805854, 17.473550811), (-20.786805854, 11.060546498), (-29.3701524, 11.060546498), (-29.3701524, 12.144142136), (-36.598119062, 12.144142136), (-36.598119062, 6.911731238), (-29.3701524, 6.911731238), (-29.3701524, 7.564313638), (-20.786805854, 7.564313638), (-20.786805854, 1.42117871), (-29.3701524, 1.42117871), (-36.598119062, 1.42117871), (-50.663857909, 1.42117871), (-70.968453137, 1.42117871), align=None)
    extrude(amount=EXTRUDE_5_DEPTH)

    # 圆角2
    fillet_2_edges = [part_2.edges().sort_by_distance(p)[0] for p in [
        (-20.786805854, 4.492746174, 3.9),
        (-20.786805854, 21.399735969, 3.9),
    ]]
    fillet(fillet_2_edges, radius=FILLET_2_R)

    # 草图12 → 凸台-拉伸6 (add)
    with BuildSketch(Plane(origin=(0, 0, 2), x_dir=(-1, 0, 0), z_dir=(0, 0, -1))):
        with Locations((23.216160619, 38.095377191)):
            Rectangle(SKETCH_12_W, SKETCH_12_H)
        with Locations((52.998538257, 38.095377191)):
            Rectangle(SKETCH_12_W_2, SKETCH_12_H)
    extrude(amount=EXTRUDE_6_DEPTH)


with BuildPart() as body_3_1:
    add(body_3.part)

    # 切除-拉伸4: cut by cut_extrude_4_tool
    add(cut_extrude_4_tool.part, mode=Mode.SUBTRACT)


solid = Compound([part_2.part, body_3_1.part])
